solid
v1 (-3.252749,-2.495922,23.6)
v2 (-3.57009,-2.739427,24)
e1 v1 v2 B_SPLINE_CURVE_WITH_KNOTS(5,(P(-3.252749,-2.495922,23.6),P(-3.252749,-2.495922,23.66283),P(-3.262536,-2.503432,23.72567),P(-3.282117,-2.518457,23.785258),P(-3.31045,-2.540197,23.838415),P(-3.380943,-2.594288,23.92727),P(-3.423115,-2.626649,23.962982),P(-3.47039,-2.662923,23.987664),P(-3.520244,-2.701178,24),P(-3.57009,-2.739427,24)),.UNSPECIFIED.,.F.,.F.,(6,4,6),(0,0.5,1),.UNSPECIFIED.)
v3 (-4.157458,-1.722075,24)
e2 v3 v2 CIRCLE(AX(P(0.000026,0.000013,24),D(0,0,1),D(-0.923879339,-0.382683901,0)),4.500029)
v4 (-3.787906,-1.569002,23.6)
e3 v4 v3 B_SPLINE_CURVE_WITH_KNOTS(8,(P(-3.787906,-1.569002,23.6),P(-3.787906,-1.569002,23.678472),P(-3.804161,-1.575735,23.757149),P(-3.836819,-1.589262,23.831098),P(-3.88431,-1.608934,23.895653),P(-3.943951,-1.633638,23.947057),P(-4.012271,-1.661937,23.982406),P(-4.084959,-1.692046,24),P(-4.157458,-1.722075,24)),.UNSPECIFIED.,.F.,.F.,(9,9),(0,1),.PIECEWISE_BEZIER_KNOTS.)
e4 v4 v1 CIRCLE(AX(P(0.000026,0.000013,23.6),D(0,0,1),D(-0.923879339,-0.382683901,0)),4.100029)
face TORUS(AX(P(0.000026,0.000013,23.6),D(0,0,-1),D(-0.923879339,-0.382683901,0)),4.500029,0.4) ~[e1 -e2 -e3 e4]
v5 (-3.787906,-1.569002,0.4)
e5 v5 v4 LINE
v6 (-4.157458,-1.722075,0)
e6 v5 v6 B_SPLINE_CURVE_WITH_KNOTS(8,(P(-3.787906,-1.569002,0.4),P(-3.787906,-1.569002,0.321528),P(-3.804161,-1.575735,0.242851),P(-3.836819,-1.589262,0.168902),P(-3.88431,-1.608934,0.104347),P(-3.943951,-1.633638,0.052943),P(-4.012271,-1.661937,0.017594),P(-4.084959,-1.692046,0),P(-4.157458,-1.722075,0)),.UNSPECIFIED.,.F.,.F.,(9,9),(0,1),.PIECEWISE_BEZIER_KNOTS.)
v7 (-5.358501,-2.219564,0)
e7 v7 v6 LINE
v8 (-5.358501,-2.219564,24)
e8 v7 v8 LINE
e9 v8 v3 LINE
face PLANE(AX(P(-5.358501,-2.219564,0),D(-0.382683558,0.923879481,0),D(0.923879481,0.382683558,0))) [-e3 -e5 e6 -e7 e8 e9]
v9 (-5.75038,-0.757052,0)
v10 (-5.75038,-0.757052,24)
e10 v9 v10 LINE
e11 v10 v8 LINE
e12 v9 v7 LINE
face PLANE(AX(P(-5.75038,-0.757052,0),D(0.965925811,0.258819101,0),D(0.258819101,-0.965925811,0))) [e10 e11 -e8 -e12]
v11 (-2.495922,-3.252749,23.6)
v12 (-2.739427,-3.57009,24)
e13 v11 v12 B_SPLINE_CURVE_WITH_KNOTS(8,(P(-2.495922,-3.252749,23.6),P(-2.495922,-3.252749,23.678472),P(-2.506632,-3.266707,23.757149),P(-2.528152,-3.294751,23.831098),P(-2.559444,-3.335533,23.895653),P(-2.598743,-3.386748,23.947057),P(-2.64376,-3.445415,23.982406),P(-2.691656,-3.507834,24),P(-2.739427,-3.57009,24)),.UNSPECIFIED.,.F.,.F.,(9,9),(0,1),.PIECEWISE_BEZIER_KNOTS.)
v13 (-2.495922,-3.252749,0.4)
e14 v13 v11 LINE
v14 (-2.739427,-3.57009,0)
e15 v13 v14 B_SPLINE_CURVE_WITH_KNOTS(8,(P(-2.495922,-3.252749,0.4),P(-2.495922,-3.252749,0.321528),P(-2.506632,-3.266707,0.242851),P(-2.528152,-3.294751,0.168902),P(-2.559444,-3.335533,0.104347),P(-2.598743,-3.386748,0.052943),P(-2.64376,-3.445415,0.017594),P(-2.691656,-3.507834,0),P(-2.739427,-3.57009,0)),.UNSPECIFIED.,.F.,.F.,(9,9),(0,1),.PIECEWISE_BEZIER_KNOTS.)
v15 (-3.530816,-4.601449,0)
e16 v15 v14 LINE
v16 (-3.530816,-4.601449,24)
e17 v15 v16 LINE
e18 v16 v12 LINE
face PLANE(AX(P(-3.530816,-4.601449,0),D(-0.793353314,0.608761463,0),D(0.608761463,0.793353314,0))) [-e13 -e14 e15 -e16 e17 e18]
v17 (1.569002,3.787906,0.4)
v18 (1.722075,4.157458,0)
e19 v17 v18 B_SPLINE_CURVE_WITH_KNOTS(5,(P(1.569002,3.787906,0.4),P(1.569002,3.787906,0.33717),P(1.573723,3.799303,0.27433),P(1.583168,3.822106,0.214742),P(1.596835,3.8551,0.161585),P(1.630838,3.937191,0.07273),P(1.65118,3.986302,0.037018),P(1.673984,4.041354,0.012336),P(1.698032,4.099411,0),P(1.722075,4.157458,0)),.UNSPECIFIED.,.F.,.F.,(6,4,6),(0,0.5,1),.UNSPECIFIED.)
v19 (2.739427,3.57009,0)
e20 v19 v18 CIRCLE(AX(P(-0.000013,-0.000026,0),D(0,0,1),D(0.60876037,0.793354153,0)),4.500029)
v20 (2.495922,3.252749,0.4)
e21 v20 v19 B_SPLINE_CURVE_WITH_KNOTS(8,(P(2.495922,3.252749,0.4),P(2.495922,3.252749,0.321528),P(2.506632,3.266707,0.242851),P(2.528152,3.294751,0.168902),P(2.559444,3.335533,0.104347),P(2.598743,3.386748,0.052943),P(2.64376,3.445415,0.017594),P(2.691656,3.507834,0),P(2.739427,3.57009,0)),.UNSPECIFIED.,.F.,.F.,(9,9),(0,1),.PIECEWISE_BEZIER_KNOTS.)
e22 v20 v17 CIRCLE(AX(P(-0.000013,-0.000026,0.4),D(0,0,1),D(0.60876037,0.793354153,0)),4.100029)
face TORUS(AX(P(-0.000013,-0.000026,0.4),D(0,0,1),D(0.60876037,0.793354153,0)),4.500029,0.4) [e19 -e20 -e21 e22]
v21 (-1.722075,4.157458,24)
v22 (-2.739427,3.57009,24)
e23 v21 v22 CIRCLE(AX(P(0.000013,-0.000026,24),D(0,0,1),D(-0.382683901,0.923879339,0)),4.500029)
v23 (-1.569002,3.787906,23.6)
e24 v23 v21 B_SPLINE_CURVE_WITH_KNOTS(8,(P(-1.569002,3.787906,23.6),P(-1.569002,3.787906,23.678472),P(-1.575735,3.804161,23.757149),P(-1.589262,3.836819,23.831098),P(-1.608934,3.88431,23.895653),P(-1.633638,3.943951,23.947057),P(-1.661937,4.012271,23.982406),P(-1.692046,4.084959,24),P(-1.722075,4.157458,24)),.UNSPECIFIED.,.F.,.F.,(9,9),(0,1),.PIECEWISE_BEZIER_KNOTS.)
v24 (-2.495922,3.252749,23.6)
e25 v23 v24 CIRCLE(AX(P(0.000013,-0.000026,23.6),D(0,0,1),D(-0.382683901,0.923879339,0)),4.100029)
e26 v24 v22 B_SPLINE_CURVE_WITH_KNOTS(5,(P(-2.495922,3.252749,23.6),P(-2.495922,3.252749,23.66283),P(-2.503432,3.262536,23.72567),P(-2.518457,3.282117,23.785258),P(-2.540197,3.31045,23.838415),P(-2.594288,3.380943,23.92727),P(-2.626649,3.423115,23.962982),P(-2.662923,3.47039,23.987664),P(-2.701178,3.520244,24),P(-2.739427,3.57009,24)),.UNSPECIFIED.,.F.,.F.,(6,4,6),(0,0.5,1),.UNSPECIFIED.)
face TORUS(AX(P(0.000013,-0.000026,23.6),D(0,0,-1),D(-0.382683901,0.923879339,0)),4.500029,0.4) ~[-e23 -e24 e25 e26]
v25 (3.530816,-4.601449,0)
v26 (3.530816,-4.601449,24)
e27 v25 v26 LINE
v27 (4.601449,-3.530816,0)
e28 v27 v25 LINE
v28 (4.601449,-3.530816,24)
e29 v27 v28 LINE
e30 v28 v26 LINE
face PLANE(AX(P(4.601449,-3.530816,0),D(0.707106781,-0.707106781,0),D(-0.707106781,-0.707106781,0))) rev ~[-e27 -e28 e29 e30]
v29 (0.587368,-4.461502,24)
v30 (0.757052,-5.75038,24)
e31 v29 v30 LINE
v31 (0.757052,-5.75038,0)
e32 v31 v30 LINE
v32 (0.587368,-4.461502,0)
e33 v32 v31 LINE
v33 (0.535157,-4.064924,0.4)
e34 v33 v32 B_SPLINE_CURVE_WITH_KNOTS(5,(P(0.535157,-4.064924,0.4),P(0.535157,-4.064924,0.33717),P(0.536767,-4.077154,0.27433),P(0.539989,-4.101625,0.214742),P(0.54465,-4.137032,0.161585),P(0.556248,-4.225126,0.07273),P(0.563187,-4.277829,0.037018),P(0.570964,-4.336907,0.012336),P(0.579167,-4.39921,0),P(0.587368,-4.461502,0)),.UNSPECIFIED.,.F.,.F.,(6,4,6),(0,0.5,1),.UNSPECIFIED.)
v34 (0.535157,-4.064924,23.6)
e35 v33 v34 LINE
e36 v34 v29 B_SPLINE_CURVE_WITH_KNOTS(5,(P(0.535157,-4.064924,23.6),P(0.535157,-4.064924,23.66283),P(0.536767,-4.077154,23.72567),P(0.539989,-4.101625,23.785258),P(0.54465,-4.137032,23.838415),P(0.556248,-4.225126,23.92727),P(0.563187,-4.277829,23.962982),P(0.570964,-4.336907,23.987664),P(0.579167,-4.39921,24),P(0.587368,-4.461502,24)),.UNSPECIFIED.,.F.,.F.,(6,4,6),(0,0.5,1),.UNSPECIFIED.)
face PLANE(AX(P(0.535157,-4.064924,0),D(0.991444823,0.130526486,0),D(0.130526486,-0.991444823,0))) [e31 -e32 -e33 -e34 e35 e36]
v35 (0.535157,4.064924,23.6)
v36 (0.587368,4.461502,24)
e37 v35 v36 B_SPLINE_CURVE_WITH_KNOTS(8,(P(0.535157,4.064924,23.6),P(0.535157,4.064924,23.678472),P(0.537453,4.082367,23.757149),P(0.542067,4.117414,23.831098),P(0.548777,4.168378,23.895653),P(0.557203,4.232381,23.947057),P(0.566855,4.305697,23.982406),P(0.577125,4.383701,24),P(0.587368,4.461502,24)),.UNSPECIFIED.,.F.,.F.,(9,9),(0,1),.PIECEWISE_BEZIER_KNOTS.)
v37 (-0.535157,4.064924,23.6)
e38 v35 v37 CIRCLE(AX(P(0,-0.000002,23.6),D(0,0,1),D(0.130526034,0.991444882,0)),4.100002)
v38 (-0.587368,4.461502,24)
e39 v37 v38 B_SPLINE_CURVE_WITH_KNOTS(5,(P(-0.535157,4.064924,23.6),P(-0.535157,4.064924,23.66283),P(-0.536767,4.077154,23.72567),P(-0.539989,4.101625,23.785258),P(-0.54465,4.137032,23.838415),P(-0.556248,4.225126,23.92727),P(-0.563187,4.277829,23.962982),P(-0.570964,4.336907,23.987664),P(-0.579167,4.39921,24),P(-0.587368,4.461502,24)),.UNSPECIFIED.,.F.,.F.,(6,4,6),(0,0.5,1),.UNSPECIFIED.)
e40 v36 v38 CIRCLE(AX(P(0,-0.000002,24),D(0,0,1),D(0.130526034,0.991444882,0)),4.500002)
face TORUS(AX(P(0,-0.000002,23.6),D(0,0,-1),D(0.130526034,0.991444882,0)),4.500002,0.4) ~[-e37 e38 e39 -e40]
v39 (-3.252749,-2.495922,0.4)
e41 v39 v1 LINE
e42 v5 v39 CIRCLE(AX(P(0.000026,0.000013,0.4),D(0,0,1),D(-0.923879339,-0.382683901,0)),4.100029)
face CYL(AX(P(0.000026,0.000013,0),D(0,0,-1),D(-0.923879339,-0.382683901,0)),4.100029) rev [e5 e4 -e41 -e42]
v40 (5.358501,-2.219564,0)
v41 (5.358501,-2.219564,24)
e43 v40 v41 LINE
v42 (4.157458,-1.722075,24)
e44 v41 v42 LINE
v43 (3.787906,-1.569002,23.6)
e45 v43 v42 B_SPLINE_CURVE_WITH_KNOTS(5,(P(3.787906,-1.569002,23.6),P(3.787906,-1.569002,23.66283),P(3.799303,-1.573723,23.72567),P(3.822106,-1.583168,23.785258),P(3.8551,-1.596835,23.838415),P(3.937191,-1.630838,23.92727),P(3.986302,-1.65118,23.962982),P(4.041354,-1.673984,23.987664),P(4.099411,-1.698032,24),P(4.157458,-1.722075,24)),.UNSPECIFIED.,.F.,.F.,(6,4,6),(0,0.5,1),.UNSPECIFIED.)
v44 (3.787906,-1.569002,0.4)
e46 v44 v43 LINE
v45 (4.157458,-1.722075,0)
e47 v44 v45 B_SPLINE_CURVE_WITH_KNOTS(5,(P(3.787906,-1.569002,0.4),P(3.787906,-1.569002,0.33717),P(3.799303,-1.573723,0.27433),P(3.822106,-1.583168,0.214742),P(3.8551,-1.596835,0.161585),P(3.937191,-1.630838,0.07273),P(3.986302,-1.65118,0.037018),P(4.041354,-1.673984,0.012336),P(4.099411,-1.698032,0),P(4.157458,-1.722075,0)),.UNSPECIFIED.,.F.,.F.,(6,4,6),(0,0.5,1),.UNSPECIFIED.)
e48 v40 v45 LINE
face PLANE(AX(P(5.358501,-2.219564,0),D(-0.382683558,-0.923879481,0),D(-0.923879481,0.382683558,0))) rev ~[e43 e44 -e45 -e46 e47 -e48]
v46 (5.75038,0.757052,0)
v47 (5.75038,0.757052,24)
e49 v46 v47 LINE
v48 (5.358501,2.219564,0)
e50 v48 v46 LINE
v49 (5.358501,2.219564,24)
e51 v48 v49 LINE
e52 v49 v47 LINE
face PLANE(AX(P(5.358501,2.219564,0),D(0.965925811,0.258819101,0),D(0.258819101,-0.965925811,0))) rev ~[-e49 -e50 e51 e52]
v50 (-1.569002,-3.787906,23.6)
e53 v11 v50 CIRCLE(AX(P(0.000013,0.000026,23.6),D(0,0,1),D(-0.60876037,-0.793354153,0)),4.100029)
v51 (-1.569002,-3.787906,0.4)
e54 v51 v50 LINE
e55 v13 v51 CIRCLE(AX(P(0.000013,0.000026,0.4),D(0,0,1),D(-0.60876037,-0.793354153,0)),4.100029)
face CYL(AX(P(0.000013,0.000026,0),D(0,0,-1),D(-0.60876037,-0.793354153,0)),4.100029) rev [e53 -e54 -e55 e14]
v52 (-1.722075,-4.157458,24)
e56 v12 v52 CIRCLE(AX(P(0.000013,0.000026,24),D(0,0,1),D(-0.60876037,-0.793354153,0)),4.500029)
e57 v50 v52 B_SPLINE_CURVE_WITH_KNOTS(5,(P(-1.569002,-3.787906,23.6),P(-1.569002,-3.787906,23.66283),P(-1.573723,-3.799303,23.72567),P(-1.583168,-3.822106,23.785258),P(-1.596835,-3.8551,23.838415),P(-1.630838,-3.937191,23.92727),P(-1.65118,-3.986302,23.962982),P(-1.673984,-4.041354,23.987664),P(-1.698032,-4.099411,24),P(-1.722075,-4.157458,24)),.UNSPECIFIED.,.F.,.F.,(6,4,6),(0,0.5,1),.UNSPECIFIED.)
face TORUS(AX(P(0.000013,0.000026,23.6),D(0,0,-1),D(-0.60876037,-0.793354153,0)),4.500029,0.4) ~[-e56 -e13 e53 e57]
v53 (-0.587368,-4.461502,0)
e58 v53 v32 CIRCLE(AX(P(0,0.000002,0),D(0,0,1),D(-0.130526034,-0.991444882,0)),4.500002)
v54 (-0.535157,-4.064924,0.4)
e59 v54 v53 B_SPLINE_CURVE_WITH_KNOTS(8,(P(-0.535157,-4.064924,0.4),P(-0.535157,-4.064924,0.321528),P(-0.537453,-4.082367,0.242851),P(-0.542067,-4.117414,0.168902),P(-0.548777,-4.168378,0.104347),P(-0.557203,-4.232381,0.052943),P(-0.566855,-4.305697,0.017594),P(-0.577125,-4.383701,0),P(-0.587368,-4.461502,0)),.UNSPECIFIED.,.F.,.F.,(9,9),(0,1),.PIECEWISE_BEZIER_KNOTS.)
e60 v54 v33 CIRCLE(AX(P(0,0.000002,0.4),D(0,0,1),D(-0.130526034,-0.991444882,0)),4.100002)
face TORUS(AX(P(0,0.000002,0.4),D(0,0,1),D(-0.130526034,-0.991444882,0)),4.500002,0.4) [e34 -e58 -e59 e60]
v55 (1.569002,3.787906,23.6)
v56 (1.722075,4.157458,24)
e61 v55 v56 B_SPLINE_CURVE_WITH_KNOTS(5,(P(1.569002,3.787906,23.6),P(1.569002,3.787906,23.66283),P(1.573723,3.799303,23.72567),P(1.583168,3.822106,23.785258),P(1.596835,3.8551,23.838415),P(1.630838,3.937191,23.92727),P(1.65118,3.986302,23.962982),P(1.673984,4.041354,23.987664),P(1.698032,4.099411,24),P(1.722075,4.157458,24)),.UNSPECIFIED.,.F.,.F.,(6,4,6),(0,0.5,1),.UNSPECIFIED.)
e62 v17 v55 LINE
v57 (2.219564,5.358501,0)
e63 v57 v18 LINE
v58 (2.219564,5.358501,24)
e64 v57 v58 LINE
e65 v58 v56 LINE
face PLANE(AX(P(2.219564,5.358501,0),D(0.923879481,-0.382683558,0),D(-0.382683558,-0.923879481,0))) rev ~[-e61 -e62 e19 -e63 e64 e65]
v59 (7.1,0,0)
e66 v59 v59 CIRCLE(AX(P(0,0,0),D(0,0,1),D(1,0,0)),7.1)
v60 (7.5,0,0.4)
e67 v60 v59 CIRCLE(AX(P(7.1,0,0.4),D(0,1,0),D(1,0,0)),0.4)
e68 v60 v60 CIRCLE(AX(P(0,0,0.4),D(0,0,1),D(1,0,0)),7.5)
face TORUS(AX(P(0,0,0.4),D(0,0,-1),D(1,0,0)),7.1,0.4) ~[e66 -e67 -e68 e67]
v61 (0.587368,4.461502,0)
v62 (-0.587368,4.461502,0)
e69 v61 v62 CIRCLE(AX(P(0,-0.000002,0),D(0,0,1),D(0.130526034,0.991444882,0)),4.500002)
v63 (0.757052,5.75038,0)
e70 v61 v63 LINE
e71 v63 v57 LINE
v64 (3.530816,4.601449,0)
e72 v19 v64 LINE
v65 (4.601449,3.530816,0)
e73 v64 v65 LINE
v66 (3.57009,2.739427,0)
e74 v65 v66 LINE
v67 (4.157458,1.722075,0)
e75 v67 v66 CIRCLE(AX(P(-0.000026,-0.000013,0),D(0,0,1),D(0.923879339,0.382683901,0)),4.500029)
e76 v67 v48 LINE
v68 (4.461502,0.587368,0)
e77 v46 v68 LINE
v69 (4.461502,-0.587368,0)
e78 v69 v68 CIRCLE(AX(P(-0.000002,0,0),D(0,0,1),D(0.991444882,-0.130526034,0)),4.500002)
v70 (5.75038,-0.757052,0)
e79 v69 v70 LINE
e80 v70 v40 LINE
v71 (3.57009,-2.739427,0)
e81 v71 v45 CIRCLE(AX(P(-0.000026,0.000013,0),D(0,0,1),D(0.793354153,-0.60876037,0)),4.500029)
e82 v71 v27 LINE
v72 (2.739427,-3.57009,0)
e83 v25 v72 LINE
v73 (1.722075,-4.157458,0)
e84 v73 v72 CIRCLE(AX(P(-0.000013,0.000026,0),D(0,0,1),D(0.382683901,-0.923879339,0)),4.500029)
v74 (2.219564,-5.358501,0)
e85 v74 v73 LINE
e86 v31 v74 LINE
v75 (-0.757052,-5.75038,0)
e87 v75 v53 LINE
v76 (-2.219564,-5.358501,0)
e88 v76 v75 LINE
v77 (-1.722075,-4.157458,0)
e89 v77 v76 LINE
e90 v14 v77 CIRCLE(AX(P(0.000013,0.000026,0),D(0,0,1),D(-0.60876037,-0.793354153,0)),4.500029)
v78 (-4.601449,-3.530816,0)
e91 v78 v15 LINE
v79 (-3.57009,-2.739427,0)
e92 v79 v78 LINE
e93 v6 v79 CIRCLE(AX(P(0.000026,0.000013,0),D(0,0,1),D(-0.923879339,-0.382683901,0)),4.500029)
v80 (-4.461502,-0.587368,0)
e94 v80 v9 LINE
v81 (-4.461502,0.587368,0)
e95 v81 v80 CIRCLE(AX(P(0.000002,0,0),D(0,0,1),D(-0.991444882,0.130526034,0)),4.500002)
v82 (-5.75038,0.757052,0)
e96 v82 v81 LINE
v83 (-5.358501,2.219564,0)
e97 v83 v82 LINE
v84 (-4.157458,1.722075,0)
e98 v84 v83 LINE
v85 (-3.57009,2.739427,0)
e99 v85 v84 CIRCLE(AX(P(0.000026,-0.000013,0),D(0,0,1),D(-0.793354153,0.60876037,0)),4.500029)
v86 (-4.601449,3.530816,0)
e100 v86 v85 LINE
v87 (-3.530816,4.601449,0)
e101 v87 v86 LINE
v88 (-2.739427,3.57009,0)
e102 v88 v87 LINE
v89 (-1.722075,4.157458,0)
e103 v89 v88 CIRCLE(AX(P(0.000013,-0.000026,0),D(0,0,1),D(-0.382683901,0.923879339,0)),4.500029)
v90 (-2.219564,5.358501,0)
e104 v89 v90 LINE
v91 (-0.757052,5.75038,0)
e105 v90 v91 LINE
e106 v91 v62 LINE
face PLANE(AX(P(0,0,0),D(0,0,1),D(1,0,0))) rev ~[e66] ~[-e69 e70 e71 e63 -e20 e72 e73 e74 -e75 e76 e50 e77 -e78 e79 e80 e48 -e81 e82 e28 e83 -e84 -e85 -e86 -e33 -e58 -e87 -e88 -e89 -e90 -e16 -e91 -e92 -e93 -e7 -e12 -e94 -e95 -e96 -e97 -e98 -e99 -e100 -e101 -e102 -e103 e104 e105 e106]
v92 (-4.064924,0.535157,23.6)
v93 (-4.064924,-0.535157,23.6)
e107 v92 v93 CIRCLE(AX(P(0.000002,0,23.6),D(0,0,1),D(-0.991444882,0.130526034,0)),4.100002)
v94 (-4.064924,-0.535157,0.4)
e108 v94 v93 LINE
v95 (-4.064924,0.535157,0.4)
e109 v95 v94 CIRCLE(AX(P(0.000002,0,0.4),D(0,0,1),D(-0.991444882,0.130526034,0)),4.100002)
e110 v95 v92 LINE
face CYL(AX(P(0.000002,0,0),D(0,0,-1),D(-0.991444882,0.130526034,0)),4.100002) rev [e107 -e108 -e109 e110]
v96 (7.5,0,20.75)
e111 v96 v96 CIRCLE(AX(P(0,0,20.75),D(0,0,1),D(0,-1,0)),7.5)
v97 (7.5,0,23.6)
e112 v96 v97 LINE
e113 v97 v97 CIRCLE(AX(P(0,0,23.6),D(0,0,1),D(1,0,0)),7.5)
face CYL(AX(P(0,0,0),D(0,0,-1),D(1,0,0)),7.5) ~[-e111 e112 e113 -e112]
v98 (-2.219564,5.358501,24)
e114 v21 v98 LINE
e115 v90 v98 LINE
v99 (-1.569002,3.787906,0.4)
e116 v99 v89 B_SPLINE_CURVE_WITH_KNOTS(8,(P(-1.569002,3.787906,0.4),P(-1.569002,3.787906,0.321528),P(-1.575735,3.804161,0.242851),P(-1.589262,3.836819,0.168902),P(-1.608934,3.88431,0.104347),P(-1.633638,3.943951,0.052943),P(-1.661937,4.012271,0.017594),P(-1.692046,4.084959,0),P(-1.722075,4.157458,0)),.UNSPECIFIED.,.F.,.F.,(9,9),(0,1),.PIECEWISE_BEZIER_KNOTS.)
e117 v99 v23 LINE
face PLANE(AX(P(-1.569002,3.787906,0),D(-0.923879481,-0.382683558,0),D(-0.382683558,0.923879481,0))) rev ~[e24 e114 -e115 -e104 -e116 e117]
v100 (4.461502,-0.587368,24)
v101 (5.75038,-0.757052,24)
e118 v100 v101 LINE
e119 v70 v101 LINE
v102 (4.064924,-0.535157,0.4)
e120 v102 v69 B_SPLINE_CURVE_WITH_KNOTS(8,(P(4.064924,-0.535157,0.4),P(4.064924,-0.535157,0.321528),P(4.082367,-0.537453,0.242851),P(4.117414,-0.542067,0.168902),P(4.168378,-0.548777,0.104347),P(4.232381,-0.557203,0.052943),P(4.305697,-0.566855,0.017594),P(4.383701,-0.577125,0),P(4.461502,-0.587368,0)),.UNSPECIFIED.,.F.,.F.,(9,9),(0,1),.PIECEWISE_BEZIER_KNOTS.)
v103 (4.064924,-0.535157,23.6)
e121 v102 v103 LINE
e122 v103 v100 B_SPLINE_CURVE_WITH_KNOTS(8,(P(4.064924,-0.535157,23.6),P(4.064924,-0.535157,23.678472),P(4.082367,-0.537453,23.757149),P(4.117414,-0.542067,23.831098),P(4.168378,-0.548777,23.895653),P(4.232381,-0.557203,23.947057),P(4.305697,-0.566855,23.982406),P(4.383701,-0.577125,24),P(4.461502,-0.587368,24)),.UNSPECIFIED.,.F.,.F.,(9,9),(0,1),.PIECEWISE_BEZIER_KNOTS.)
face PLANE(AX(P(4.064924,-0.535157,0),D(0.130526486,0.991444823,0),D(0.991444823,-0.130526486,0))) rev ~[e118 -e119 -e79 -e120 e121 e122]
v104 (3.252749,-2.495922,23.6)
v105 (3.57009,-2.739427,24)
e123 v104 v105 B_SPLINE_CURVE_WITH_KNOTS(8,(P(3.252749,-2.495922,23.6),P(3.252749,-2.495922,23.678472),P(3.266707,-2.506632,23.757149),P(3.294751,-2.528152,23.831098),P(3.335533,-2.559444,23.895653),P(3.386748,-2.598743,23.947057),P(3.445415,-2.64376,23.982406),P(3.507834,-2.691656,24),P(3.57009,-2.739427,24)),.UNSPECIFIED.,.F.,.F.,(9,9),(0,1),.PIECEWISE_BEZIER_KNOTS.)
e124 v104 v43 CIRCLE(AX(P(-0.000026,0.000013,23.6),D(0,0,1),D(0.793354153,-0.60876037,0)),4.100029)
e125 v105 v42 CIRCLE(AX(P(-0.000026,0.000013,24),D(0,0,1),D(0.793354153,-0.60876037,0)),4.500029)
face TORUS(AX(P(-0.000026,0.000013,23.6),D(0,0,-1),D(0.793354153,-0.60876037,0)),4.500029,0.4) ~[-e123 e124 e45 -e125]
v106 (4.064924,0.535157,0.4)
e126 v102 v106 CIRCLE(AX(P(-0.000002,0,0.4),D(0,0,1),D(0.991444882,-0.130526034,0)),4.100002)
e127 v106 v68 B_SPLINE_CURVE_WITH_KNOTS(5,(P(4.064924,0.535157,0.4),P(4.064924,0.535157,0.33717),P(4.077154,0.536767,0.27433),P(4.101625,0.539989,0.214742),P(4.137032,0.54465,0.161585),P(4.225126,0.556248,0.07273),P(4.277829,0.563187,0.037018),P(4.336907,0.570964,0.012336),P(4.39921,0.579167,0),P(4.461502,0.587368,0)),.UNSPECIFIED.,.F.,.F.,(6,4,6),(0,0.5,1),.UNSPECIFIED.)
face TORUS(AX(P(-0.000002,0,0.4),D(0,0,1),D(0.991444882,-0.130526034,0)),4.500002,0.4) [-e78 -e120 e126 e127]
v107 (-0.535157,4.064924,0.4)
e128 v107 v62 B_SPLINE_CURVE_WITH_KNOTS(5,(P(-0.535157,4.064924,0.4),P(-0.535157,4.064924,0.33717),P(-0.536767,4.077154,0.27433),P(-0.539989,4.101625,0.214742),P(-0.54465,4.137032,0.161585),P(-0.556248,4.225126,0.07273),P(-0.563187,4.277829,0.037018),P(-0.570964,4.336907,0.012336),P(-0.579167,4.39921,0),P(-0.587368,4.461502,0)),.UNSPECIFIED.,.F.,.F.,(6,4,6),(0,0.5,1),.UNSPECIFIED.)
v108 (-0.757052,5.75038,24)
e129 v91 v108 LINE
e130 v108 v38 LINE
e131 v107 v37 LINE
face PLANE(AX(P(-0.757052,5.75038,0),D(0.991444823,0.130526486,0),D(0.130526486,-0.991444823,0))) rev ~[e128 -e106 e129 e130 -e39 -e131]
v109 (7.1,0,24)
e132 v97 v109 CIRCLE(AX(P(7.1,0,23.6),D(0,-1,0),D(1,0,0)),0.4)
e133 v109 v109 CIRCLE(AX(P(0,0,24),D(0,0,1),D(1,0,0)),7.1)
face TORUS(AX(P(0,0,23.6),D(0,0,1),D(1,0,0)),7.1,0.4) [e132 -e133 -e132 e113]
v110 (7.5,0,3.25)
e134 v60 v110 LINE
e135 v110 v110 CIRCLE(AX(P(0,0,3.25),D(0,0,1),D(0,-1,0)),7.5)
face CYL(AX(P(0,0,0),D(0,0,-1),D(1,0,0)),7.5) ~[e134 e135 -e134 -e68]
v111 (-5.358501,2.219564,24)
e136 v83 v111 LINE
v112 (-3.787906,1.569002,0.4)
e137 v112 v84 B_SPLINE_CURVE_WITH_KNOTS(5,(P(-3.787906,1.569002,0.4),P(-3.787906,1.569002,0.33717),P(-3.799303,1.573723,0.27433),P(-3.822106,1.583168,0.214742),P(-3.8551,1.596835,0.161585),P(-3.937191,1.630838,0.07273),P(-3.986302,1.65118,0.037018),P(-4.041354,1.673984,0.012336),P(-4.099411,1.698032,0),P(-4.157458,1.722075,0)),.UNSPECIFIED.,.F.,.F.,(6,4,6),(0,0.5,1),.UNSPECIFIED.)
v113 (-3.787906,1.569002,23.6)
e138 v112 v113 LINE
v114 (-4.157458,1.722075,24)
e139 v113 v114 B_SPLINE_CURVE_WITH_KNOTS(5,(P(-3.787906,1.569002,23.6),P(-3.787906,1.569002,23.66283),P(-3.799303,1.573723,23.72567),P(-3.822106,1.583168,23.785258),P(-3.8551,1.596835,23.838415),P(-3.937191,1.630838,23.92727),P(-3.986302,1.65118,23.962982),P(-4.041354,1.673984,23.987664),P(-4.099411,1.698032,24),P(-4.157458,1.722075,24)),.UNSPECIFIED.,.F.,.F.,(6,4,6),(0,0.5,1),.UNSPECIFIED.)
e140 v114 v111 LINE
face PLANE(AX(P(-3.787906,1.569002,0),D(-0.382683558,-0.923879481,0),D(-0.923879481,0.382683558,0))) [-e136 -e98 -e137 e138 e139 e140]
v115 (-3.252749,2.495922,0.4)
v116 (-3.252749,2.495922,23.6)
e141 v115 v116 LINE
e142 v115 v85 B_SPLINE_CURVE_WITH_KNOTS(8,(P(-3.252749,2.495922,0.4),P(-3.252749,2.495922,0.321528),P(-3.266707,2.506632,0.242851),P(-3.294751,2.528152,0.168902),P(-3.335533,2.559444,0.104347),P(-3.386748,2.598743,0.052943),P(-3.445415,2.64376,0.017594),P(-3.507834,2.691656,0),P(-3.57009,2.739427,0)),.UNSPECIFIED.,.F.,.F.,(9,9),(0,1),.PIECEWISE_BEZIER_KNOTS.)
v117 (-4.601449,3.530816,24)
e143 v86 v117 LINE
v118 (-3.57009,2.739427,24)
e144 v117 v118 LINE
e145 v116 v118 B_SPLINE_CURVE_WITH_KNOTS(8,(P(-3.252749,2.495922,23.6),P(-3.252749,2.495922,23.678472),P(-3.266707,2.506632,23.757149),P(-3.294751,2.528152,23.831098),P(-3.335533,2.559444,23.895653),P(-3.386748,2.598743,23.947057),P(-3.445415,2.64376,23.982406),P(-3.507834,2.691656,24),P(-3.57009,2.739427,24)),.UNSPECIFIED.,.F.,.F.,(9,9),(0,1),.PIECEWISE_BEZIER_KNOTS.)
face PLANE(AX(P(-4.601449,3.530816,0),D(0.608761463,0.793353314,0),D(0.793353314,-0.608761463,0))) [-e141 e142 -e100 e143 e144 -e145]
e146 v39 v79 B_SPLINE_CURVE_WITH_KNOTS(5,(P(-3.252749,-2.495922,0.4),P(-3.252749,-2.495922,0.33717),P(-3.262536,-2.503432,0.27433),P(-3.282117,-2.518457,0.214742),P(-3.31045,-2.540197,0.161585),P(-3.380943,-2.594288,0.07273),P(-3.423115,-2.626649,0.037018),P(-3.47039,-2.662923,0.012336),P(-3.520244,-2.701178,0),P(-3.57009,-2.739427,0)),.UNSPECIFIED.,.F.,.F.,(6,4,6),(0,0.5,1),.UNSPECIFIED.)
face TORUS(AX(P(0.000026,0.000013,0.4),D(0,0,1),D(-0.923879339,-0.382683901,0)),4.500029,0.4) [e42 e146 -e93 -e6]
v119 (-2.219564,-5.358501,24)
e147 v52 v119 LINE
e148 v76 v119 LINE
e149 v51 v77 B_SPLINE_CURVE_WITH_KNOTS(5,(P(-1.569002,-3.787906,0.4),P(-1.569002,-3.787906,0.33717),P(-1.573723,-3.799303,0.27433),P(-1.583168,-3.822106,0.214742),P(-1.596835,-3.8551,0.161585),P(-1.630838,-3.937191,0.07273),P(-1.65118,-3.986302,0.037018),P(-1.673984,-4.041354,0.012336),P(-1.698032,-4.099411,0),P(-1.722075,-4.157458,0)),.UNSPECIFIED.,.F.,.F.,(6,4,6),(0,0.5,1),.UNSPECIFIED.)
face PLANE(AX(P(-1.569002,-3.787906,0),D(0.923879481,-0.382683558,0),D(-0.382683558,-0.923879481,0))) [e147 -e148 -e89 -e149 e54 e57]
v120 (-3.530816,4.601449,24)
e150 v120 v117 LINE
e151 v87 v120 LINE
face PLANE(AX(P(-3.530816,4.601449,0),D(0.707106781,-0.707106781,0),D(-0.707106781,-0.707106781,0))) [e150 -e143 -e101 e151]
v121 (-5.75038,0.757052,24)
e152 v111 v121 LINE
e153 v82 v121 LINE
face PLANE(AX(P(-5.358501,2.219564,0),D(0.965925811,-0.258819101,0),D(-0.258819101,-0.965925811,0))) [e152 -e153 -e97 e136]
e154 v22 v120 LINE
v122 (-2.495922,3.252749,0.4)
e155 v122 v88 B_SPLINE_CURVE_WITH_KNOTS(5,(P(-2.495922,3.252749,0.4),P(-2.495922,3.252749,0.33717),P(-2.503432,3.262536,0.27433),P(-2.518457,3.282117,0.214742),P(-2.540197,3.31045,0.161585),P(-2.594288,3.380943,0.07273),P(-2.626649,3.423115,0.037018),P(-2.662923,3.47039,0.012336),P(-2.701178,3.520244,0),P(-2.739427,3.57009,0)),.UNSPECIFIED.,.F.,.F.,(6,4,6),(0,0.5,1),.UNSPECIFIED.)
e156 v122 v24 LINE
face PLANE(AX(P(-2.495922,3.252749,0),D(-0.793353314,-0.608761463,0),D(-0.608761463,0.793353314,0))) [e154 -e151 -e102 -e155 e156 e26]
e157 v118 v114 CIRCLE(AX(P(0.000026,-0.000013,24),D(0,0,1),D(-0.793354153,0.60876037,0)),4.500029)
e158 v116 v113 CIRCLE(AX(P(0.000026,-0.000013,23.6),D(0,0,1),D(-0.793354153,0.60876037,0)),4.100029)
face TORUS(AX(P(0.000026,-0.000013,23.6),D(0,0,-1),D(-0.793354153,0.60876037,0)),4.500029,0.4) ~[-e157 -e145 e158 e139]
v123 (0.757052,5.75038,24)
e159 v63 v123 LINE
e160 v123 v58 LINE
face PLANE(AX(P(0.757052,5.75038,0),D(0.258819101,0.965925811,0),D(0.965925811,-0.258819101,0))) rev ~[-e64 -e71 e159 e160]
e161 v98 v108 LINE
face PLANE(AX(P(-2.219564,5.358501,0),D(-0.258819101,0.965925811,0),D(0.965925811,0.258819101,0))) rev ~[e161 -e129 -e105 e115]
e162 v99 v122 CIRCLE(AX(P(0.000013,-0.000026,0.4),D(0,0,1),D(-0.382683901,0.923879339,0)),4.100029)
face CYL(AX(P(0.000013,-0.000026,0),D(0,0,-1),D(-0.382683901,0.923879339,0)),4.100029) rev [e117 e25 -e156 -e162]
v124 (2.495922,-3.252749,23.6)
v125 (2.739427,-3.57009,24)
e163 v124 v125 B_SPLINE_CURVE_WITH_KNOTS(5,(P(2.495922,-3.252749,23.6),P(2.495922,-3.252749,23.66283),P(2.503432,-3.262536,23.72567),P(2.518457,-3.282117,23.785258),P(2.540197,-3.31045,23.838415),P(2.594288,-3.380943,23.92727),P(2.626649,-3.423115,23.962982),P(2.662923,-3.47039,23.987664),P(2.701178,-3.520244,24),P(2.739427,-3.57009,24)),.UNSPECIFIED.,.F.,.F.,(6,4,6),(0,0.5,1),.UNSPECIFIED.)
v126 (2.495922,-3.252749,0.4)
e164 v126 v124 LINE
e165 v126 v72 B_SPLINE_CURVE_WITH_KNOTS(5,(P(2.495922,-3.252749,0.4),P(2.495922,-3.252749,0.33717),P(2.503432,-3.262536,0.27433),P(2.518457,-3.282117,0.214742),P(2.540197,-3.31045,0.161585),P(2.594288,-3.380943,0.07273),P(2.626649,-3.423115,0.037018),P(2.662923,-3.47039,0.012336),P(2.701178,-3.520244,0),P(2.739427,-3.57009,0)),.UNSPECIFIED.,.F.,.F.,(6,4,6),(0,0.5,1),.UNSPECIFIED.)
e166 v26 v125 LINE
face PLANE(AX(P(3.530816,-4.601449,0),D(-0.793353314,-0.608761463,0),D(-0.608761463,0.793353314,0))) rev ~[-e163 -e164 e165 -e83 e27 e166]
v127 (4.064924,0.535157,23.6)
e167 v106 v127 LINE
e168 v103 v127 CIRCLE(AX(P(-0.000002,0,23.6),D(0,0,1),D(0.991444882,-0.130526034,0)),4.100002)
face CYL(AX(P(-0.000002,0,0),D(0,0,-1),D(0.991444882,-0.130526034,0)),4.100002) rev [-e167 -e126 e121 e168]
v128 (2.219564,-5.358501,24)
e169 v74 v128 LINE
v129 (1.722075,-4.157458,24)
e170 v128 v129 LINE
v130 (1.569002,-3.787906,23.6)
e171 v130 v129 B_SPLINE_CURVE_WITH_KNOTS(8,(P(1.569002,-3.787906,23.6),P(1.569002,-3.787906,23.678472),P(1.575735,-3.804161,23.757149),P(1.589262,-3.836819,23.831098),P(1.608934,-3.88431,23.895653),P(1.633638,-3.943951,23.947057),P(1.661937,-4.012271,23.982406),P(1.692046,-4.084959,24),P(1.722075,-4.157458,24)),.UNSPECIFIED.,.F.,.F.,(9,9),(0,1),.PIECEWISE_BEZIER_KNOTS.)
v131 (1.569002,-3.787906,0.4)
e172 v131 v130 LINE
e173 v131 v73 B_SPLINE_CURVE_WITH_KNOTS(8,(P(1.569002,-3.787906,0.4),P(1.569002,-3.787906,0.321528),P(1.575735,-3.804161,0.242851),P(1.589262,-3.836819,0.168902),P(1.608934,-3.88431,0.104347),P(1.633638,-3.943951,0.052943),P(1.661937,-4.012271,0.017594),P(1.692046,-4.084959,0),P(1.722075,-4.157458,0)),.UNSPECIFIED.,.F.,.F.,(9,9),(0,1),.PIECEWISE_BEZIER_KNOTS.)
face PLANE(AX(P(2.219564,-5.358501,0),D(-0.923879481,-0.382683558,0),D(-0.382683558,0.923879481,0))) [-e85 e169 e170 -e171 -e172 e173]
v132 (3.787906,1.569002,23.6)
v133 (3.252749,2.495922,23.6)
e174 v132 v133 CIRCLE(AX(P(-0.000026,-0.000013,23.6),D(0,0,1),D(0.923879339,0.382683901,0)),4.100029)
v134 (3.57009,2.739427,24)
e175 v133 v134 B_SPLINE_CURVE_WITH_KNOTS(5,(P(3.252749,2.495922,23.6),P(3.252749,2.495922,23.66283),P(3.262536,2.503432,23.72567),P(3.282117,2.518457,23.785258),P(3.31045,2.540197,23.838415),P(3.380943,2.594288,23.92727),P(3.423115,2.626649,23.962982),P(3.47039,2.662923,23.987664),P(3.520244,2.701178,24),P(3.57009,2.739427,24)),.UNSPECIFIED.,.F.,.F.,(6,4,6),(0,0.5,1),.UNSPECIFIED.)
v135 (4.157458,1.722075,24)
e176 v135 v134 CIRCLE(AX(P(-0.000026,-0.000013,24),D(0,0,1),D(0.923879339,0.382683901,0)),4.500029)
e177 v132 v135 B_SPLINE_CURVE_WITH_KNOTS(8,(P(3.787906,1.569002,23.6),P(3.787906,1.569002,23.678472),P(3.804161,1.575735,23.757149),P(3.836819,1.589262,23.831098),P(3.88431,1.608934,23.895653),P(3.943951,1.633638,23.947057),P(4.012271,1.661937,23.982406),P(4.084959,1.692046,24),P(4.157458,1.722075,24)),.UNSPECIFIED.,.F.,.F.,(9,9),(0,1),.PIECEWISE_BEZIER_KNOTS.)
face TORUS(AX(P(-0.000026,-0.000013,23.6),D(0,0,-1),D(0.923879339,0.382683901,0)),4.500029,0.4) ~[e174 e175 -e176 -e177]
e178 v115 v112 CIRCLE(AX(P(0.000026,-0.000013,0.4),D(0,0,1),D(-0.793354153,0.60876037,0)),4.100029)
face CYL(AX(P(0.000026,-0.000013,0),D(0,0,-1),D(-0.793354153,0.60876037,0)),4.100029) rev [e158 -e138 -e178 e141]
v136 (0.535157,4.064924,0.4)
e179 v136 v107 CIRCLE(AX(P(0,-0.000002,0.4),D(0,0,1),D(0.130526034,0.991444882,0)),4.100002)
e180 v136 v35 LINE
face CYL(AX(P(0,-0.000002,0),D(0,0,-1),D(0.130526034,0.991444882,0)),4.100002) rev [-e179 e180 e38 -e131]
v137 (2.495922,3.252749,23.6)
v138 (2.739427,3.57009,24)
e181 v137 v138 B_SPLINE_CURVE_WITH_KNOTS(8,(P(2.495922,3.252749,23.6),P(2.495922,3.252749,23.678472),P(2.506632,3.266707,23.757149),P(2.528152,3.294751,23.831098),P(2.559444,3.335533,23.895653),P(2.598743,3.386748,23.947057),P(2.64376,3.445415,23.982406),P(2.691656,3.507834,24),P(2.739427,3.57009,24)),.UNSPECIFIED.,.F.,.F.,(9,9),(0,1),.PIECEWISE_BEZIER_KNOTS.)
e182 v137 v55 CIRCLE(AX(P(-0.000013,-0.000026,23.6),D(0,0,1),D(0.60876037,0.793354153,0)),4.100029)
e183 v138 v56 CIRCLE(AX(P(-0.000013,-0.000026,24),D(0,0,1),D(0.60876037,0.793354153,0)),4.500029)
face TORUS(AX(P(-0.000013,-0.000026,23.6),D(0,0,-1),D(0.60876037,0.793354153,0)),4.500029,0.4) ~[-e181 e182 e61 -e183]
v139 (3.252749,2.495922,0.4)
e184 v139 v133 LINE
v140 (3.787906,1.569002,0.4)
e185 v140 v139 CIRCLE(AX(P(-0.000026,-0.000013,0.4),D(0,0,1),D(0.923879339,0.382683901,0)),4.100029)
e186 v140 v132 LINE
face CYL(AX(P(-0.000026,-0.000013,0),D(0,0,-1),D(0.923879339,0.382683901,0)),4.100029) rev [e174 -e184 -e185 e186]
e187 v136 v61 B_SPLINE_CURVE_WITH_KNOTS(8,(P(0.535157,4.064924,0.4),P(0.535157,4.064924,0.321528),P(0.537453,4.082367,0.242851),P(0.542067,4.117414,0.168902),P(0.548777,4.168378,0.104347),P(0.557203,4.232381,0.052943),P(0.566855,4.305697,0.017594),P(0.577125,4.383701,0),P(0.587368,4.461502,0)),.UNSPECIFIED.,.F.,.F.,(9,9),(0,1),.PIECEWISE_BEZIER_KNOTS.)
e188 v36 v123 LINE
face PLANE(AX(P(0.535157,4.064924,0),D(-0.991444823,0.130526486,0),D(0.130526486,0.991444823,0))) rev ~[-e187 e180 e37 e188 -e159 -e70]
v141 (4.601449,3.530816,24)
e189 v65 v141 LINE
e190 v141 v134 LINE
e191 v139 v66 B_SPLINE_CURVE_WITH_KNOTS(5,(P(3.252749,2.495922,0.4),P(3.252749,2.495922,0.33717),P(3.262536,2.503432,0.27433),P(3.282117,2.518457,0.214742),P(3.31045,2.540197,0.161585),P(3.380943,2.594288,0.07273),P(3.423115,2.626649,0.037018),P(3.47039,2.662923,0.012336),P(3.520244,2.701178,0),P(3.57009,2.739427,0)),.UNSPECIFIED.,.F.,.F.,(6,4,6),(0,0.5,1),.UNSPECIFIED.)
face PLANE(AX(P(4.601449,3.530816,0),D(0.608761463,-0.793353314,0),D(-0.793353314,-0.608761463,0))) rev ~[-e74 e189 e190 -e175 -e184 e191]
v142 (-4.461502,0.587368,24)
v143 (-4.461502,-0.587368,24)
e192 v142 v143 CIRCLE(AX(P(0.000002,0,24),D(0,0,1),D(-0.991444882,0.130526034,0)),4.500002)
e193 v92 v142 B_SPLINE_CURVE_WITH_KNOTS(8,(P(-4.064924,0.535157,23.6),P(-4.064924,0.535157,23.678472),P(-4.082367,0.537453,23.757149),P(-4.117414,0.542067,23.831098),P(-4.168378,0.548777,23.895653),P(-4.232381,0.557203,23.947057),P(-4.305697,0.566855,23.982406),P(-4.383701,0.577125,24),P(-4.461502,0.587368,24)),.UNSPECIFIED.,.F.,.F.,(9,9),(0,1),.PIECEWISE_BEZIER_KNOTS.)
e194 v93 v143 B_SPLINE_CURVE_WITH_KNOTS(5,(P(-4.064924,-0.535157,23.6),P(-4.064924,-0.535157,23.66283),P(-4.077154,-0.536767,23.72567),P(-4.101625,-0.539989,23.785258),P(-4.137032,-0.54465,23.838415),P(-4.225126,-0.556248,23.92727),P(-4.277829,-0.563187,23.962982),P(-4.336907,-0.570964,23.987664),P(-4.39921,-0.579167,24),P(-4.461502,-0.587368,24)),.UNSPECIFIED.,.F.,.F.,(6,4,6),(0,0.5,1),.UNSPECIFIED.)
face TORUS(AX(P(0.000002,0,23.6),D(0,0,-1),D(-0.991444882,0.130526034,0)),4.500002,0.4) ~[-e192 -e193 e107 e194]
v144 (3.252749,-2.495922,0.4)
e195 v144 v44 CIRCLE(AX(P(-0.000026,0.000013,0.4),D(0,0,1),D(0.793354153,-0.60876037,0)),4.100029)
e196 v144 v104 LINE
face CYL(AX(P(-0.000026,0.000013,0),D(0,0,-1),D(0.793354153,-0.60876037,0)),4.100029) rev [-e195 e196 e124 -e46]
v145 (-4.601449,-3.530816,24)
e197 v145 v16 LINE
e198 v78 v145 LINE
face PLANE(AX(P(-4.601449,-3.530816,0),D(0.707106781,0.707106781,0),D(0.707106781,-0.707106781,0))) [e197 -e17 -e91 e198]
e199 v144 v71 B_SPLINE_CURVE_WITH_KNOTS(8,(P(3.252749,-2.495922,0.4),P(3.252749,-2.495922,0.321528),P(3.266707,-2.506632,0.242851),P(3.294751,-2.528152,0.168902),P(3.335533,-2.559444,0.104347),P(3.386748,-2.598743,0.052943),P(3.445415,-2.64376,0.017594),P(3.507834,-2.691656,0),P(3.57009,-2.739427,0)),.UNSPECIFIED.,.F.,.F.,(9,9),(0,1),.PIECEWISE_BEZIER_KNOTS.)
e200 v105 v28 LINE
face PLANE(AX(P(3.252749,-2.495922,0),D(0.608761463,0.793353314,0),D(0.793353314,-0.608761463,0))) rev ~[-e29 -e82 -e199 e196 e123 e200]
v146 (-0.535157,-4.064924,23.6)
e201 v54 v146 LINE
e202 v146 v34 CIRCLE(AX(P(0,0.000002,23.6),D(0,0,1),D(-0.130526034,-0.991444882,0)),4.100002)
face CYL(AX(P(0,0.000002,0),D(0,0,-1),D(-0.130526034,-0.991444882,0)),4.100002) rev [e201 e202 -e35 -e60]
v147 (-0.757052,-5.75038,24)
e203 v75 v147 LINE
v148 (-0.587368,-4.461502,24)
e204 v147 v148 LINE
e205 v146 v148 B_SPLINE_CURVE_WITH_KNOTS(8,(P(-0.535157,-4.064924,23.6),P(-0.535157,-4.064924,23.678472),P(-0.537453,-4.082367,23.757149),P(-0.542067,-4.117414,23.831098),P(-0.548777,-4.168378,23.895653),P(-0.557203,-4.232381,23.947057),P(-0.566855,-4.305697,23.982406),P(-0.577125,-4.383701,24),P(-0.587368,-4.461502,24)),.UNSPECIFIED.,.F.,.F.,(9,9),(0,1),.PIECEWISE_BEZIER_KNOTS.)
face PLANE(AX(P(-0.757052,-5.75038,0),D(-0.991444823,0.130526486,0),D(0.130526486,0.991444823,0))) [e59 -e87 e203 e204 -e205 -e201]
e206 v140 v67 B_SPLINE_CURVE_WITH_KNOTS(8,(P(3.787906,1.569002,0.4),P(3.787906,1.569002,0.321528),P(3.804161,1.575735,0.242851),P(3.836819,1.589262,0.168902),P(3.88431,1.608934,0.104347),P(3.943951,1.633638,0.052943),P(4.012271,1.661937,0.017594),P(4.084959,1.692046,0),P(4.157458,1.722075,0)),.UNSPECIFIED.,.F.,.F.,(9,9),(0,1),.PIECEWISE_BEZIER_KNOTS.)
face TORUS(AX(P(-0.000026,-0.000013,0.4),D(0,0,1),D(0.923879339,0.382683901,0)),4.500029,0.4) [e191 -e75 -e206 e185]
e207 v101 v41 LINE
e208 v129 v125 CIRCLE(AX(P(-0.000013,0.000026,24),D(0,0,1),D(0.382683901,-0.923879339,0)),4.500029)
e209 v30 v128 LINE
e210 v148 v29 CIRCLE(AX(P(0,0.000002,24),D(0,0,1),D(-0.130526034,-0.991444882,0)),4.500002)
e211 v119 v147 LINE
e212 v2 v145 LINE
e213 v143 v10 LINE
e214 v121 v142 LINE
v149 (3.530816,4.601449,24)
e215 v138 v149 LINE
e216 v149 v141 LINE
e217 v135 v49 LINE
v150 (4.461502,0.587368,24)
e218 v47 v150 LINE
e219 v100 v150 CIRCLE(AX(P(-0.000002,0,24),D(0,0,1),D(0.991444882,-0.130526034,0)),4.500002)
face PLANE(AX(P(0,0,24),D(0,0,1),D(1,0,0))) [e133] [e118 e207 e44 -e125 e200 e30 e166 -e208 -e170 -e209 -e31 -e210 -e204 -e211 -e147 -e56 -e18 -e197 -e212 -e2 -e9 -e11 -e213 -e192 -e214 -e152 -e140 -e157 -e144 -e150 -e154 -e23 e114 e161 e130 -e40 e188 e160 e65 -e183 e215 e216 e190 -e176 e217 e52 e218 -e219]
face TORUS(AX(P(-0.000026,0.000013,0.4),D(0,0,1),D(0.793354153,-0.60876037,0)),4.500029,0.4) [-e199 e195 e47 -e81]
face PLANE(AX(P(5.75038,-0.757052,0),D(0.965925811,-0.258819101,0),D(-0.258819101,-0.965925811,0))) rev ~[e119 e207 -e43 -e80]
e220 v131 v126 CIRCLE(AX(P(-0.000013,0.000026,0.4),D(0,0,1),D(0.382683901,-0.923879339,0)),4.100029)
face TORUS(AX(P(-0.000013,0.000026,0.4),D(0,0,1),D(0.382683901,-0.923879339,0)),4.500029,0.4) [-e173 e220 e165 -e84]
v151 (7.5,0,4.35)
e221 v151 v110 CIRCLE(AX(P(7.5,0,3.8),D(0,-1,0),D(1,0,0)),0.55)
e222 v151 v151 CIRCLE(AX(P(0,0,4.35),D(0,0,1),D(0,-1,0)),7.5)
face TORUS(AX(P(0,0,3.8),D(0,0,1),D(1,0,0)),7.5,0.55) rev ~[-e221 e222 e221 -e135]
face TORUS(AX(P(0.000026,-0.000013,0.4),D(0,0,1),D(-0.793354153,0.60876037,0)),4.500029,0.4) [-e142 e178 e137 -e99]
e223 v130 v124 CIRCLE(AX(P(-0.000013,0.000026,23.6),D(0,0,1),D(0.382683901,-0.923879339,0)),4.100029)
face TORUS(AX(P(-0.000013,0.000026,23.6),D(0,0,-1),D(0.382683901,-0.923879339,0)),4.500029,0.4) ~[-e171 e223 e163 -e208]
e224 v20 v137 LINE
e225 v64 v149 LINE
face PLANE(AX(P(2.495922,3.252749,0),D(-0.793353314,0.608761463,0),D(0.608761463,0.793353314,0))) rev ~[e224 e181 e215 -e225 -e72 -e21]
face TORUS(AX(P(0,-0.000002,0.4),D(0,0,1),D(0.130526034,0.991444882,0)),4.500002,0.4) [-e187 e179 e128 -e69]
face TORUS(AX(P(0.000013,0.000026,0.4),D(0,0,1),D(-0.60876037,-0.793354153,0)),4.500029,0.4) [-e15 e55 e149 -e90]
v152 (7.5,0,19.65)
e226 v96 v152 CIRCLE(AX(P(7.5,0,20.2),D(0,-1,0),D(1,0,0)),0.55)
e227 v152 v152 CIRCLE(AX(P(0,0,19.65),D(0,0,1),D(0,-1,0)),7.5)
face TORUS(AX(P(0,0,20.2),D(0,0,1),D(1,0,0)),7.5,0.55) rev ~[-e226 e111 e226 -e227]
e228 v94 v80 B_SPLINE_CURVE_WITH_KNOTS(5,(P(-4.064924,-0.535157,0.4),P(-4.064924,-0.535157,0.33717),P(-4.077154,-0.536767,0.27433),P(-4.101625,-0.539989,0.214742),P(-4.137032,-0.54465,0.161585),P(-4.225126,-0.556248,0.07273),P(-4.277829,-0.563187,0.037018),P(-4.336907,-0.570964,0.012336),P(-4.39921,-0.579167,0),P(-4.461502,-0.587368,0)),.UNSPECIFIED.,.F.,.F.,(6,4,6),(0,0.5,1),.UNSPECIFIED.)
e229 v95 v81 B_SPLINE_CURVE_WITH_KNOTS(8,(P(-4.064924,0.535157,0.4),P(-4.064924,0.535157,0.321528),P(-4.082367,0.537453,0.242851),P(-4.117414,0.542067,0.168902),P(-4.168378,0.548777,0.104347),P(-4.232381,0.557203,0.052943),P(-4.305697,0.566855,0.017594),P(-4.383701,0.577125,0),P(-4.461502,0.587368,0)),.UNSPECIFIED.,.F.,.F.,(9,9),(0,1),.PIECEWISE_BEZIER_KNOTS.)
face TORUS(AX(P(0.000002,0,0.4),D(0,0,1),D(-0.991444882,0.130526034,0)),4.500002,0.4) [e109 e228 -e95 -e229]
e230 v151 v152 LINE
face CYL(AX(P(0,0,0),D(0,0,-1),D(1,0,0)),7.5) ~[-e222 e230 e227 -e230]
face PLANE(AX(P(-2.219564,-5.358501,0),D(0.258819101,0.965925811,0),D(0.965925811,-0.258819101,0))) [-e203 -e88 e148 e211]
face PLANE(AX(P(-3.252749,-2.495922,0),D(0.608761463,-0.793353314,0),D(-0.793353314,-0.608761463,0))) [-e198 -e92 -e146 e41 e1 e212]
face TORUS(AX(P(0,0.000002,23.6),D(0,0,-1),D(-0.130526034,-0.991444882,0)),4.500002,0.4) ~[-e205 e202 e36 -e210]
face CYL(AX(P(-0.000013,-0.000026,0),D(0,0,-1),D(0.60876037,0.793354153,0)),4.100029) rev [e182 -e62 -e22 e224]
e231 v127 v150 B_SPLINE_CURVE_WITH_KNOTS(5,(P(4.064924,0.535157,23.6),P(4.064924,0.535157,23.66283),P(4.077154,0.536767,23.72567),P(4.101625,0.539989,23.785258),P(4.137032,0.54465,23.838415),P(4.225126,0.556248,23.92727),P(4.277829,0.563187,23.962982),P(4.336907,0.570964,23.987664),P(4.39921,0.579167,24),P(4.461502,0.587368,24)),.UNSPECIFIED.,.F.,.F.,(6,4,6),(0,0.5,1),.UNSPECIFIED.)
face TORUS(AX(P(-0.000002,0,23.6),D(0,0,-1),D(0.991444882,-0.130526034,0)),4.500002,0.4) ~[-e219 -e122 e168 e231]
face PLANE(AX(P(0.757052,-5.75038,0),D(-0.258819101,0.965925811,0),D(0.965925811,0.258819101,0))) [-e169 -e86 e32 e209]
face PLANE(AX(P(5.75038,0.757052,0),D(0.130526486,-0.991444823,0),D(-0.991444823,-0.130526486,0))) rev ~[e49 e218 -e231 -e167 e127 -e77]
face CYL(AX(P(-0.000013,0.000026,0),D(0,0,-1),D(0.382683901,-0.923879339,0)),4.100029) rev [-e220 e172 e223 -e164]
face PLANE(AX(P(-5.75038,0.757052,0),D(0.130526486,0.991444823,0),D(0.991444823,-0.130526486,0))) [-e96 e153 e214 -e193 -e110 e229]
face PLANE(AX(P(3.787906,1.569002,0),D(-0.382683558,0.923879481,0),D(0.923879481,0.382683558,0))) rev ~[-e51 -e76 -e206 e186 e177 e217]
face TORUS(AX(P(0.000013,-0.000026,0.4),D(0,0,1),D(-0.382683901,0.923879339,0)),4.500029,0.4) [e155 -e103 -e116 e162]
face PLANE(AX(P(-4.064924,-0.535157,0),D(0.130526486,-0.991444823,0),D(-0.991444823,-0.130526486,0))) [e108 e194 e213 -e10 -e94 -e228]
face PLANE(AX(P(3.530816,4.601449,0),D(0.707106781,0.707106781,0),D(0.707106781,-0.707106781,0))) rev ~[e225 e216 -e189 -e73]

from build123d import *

# Parameters (mm, degrees)
TORUS_R    = 0.55
TORUS001_R = 0.55
SKETCH_R   = 7.5
PAD_DEPTH  = 24
FILLET_R   = 0.4


with BuildPart() as torus:
    # Torus → Torus (revolve)
    with BuildSketch(Plane(origin=(0, 0, 3.8), x_dir=(1, 0, 0), z_dir=(0, -1, 0))):
        with Locations((7.5, 0)):
            Circle(TORUS_R)
    revolve(axis=Axis((0, 0, 3.8), (0, 0, 1)))


with BuildPart() as fusion:
    # Torus001 → Torus001 (revolve)
    with BuildSketch(Plane(origin=(0, 0, 20.2), x_dir=(1, 0, 0), z_dir=(0, -1, 0))):
        with Locations((7.5, 0)):
            Circle(TORUS001_R)
    revolve(axis=Axis((0, 0, 20.2), (0, 0, 1)))

    # Fusion: union Torus
    add(torus.part)


with BuildPart() as cut:
    # Sketch → Pad (new body)
    with BuildSketch(Plane.XY):
        Circle(SKETCH_R)
        with BuildLine():
            ThreePointArc((0.535157, 4.064924), (0, 4.1), (-0.535157, 4.064924))
            Line((-0.757052, 5.75038), (-0.535157, 4.064924))
            Line((-2.219564, 5.358501), (-0.757052, 5.75038))
            Line((-1.569002, 3.787906), (-2.219564, 5.358501))
            ThreePointArc((-1.569002, 3.787906), (-2.05, 3.550704), (-2.495922, 3.252749))
            Line((-2.495922, 3.252749), (-3.530816, 4.601449))
            Line((-3.530816, 4.601449), (-4.601449, 3.530816))
            Line((-4.601449, 3.530816), (-3.252749, 2.495922))
            ThreePointArc((-3.252749, 2.495922), (-3.550704, 2.05), (-3.787906, 1.569002))
            Line((-3.787906, 1.569002), (-5.358501, 2.219564))
            Line((-5.358501, 2.219564), (-5.75038, 0.757052))
            Line((-5.75038, 0.757052), (-4.064924, 0.535157))
            ThreePointArc((-4.064924, 0.535157), (-4.1, 0), (-4.064924, -0.535157))
            Line((-4.064924, -0.535157), (-5.75038, -0.757052))
            Line((-5.75038, -0.757052), (-5.358501, -2.219564))
            Line((-5.358501, -2.219564), (-3.787906, -1.569002))
            ThreePointArc((-3.787906, -1.569002), (-3.550704, -2.05), (-3.252749, -2.495922))
            Line((-3.252749, -2.495922), (-4.601449, -3.530816))
            Line((-4.601449, -3.530816), (-3.530816, -4.601449))
            Line((-3.530816, -4.601449), (-2.495922, -3.252749))
            ThreePointArc((-2.495922, -3.252749), (-2.05, -3.550704), (-1.569002, -3.787906))
            Line((-1.569002, -3.787906), (-2.219564, -5.358501))
            Line((-2.219564, -5.358501), (-0.757052, -5.75038))
            Line((-0.757052, -5.75038), (-0.535157, -4.064924))
            ThreePointArc((-0.535157, -4.064924), (0, -4.1), (0.535157, -4.064924))
            Line((0.535157, -4.064924), (0.757052, -5.75038))
            Line((0.757052, -5.75038), (2.219564, -5.358501))
            Line((2.219564, -5.358501), (1.569002, -3.787906))
            ThreePointArc((1.569002, -3.787906), (2.05, -3.550704), (2.495922, -3.252749))
            Line((3.530816, -4.601449), (2.495922, -3.252749))
            Line((4.601449, -3.530816), (3.530816, -4.601449))
            Line((3.252749, -2.495922), (4.601449, -3.530816))
            ThreePointArc((3.252749, -2.495922), (3.550704, -2.05), (3.787906, -1.569002))
            Line((5.358501, -2.219564), (3.787906, -1.569002))
            Line((5.75038, -0.757052), (5.358501, -2.219564))
            Line((4.064924, -0.535157), (5.75038, -0.757052))
            ThreePointArc((4.064924, -0.535157), (4.1, 0), (4.064924, 0.535157))
            Line((5.75038, 0.757052), (4.064924, 0.535157))
            Line((5.358501, 2.219564), (5.75038, 0.757052))
            Line((3.787906, 1.569002), (5.358501, 2.219564))
            ThreePointArc((3.787906, 1.569002), (3.550704, 2.05), (3.252749, 2.495922))
            Line((4.601449, 3.530816), (3.252749, 2.495922))
            Line((3.530816, 4.601449), (4.601449, 3.530816))
            Line((2.495922, 3.252749), (3.530816, 4.601449))
            ThreePointArc((2.495922, 3.252749), (2.05, 3.550704), (1.569002, 3.787906))
            Line((2.219564, 5.358501), (1.569002, 3.787906))
            Line((0.757052, 5.75038), (2.219564, 5.358501))
            Line((0.535157, 4.064924), (0.757052, 5.75038))
        make_face(mode=Mode.SUBTRACT)
    extrude(amount=PAD_DEPTH)

    # Fillet
    fillet_edges = [cut.edges().sort_by_distance(p)[0] for p in [
        (-4.1, 0, 24),
        (-3.550704, 2.05, 24),
        (-2.05, 3.550704, 24),
        (0, 4.1, 24),
        (2.05, 3.550704, 24),
        (3.550704, 2.05, 24),
        (4.1, 0, 24),
        (3.550704, -2.05, 24),
        (2.05, -3.550704, 24),
        (0, -4.1, 24),
        (-2.05, -3.550704, 24),
        (-3.550704, -2.05, 24),
        (-7.5, 0, 24),
        (-7.5, 0, 0),
        (-4.1, 0, 0),
        (-3.550704, 2.05, 0),
        (-2.05, 3.550704, 0),
        (0, 4.1, 0),
        (2.05, 3.550704, 0),
        (3.550704, 2.05, 0),
        (4.1, 0, 0),
        (3.550704, -2.05, 0),
        (2.05, -3.550704, 0),
        (0, -4.1, 0),
        (-2.05, -3.550704, 0),
        (-3.550704, -2.05, 0),
    ]]
    fillet(fillet_edges, radius=FILLET_R)

    # Cut: cut Fusion
    add(fusion.part, mode=Mode.SUBTRACT)


solid = cut.part
